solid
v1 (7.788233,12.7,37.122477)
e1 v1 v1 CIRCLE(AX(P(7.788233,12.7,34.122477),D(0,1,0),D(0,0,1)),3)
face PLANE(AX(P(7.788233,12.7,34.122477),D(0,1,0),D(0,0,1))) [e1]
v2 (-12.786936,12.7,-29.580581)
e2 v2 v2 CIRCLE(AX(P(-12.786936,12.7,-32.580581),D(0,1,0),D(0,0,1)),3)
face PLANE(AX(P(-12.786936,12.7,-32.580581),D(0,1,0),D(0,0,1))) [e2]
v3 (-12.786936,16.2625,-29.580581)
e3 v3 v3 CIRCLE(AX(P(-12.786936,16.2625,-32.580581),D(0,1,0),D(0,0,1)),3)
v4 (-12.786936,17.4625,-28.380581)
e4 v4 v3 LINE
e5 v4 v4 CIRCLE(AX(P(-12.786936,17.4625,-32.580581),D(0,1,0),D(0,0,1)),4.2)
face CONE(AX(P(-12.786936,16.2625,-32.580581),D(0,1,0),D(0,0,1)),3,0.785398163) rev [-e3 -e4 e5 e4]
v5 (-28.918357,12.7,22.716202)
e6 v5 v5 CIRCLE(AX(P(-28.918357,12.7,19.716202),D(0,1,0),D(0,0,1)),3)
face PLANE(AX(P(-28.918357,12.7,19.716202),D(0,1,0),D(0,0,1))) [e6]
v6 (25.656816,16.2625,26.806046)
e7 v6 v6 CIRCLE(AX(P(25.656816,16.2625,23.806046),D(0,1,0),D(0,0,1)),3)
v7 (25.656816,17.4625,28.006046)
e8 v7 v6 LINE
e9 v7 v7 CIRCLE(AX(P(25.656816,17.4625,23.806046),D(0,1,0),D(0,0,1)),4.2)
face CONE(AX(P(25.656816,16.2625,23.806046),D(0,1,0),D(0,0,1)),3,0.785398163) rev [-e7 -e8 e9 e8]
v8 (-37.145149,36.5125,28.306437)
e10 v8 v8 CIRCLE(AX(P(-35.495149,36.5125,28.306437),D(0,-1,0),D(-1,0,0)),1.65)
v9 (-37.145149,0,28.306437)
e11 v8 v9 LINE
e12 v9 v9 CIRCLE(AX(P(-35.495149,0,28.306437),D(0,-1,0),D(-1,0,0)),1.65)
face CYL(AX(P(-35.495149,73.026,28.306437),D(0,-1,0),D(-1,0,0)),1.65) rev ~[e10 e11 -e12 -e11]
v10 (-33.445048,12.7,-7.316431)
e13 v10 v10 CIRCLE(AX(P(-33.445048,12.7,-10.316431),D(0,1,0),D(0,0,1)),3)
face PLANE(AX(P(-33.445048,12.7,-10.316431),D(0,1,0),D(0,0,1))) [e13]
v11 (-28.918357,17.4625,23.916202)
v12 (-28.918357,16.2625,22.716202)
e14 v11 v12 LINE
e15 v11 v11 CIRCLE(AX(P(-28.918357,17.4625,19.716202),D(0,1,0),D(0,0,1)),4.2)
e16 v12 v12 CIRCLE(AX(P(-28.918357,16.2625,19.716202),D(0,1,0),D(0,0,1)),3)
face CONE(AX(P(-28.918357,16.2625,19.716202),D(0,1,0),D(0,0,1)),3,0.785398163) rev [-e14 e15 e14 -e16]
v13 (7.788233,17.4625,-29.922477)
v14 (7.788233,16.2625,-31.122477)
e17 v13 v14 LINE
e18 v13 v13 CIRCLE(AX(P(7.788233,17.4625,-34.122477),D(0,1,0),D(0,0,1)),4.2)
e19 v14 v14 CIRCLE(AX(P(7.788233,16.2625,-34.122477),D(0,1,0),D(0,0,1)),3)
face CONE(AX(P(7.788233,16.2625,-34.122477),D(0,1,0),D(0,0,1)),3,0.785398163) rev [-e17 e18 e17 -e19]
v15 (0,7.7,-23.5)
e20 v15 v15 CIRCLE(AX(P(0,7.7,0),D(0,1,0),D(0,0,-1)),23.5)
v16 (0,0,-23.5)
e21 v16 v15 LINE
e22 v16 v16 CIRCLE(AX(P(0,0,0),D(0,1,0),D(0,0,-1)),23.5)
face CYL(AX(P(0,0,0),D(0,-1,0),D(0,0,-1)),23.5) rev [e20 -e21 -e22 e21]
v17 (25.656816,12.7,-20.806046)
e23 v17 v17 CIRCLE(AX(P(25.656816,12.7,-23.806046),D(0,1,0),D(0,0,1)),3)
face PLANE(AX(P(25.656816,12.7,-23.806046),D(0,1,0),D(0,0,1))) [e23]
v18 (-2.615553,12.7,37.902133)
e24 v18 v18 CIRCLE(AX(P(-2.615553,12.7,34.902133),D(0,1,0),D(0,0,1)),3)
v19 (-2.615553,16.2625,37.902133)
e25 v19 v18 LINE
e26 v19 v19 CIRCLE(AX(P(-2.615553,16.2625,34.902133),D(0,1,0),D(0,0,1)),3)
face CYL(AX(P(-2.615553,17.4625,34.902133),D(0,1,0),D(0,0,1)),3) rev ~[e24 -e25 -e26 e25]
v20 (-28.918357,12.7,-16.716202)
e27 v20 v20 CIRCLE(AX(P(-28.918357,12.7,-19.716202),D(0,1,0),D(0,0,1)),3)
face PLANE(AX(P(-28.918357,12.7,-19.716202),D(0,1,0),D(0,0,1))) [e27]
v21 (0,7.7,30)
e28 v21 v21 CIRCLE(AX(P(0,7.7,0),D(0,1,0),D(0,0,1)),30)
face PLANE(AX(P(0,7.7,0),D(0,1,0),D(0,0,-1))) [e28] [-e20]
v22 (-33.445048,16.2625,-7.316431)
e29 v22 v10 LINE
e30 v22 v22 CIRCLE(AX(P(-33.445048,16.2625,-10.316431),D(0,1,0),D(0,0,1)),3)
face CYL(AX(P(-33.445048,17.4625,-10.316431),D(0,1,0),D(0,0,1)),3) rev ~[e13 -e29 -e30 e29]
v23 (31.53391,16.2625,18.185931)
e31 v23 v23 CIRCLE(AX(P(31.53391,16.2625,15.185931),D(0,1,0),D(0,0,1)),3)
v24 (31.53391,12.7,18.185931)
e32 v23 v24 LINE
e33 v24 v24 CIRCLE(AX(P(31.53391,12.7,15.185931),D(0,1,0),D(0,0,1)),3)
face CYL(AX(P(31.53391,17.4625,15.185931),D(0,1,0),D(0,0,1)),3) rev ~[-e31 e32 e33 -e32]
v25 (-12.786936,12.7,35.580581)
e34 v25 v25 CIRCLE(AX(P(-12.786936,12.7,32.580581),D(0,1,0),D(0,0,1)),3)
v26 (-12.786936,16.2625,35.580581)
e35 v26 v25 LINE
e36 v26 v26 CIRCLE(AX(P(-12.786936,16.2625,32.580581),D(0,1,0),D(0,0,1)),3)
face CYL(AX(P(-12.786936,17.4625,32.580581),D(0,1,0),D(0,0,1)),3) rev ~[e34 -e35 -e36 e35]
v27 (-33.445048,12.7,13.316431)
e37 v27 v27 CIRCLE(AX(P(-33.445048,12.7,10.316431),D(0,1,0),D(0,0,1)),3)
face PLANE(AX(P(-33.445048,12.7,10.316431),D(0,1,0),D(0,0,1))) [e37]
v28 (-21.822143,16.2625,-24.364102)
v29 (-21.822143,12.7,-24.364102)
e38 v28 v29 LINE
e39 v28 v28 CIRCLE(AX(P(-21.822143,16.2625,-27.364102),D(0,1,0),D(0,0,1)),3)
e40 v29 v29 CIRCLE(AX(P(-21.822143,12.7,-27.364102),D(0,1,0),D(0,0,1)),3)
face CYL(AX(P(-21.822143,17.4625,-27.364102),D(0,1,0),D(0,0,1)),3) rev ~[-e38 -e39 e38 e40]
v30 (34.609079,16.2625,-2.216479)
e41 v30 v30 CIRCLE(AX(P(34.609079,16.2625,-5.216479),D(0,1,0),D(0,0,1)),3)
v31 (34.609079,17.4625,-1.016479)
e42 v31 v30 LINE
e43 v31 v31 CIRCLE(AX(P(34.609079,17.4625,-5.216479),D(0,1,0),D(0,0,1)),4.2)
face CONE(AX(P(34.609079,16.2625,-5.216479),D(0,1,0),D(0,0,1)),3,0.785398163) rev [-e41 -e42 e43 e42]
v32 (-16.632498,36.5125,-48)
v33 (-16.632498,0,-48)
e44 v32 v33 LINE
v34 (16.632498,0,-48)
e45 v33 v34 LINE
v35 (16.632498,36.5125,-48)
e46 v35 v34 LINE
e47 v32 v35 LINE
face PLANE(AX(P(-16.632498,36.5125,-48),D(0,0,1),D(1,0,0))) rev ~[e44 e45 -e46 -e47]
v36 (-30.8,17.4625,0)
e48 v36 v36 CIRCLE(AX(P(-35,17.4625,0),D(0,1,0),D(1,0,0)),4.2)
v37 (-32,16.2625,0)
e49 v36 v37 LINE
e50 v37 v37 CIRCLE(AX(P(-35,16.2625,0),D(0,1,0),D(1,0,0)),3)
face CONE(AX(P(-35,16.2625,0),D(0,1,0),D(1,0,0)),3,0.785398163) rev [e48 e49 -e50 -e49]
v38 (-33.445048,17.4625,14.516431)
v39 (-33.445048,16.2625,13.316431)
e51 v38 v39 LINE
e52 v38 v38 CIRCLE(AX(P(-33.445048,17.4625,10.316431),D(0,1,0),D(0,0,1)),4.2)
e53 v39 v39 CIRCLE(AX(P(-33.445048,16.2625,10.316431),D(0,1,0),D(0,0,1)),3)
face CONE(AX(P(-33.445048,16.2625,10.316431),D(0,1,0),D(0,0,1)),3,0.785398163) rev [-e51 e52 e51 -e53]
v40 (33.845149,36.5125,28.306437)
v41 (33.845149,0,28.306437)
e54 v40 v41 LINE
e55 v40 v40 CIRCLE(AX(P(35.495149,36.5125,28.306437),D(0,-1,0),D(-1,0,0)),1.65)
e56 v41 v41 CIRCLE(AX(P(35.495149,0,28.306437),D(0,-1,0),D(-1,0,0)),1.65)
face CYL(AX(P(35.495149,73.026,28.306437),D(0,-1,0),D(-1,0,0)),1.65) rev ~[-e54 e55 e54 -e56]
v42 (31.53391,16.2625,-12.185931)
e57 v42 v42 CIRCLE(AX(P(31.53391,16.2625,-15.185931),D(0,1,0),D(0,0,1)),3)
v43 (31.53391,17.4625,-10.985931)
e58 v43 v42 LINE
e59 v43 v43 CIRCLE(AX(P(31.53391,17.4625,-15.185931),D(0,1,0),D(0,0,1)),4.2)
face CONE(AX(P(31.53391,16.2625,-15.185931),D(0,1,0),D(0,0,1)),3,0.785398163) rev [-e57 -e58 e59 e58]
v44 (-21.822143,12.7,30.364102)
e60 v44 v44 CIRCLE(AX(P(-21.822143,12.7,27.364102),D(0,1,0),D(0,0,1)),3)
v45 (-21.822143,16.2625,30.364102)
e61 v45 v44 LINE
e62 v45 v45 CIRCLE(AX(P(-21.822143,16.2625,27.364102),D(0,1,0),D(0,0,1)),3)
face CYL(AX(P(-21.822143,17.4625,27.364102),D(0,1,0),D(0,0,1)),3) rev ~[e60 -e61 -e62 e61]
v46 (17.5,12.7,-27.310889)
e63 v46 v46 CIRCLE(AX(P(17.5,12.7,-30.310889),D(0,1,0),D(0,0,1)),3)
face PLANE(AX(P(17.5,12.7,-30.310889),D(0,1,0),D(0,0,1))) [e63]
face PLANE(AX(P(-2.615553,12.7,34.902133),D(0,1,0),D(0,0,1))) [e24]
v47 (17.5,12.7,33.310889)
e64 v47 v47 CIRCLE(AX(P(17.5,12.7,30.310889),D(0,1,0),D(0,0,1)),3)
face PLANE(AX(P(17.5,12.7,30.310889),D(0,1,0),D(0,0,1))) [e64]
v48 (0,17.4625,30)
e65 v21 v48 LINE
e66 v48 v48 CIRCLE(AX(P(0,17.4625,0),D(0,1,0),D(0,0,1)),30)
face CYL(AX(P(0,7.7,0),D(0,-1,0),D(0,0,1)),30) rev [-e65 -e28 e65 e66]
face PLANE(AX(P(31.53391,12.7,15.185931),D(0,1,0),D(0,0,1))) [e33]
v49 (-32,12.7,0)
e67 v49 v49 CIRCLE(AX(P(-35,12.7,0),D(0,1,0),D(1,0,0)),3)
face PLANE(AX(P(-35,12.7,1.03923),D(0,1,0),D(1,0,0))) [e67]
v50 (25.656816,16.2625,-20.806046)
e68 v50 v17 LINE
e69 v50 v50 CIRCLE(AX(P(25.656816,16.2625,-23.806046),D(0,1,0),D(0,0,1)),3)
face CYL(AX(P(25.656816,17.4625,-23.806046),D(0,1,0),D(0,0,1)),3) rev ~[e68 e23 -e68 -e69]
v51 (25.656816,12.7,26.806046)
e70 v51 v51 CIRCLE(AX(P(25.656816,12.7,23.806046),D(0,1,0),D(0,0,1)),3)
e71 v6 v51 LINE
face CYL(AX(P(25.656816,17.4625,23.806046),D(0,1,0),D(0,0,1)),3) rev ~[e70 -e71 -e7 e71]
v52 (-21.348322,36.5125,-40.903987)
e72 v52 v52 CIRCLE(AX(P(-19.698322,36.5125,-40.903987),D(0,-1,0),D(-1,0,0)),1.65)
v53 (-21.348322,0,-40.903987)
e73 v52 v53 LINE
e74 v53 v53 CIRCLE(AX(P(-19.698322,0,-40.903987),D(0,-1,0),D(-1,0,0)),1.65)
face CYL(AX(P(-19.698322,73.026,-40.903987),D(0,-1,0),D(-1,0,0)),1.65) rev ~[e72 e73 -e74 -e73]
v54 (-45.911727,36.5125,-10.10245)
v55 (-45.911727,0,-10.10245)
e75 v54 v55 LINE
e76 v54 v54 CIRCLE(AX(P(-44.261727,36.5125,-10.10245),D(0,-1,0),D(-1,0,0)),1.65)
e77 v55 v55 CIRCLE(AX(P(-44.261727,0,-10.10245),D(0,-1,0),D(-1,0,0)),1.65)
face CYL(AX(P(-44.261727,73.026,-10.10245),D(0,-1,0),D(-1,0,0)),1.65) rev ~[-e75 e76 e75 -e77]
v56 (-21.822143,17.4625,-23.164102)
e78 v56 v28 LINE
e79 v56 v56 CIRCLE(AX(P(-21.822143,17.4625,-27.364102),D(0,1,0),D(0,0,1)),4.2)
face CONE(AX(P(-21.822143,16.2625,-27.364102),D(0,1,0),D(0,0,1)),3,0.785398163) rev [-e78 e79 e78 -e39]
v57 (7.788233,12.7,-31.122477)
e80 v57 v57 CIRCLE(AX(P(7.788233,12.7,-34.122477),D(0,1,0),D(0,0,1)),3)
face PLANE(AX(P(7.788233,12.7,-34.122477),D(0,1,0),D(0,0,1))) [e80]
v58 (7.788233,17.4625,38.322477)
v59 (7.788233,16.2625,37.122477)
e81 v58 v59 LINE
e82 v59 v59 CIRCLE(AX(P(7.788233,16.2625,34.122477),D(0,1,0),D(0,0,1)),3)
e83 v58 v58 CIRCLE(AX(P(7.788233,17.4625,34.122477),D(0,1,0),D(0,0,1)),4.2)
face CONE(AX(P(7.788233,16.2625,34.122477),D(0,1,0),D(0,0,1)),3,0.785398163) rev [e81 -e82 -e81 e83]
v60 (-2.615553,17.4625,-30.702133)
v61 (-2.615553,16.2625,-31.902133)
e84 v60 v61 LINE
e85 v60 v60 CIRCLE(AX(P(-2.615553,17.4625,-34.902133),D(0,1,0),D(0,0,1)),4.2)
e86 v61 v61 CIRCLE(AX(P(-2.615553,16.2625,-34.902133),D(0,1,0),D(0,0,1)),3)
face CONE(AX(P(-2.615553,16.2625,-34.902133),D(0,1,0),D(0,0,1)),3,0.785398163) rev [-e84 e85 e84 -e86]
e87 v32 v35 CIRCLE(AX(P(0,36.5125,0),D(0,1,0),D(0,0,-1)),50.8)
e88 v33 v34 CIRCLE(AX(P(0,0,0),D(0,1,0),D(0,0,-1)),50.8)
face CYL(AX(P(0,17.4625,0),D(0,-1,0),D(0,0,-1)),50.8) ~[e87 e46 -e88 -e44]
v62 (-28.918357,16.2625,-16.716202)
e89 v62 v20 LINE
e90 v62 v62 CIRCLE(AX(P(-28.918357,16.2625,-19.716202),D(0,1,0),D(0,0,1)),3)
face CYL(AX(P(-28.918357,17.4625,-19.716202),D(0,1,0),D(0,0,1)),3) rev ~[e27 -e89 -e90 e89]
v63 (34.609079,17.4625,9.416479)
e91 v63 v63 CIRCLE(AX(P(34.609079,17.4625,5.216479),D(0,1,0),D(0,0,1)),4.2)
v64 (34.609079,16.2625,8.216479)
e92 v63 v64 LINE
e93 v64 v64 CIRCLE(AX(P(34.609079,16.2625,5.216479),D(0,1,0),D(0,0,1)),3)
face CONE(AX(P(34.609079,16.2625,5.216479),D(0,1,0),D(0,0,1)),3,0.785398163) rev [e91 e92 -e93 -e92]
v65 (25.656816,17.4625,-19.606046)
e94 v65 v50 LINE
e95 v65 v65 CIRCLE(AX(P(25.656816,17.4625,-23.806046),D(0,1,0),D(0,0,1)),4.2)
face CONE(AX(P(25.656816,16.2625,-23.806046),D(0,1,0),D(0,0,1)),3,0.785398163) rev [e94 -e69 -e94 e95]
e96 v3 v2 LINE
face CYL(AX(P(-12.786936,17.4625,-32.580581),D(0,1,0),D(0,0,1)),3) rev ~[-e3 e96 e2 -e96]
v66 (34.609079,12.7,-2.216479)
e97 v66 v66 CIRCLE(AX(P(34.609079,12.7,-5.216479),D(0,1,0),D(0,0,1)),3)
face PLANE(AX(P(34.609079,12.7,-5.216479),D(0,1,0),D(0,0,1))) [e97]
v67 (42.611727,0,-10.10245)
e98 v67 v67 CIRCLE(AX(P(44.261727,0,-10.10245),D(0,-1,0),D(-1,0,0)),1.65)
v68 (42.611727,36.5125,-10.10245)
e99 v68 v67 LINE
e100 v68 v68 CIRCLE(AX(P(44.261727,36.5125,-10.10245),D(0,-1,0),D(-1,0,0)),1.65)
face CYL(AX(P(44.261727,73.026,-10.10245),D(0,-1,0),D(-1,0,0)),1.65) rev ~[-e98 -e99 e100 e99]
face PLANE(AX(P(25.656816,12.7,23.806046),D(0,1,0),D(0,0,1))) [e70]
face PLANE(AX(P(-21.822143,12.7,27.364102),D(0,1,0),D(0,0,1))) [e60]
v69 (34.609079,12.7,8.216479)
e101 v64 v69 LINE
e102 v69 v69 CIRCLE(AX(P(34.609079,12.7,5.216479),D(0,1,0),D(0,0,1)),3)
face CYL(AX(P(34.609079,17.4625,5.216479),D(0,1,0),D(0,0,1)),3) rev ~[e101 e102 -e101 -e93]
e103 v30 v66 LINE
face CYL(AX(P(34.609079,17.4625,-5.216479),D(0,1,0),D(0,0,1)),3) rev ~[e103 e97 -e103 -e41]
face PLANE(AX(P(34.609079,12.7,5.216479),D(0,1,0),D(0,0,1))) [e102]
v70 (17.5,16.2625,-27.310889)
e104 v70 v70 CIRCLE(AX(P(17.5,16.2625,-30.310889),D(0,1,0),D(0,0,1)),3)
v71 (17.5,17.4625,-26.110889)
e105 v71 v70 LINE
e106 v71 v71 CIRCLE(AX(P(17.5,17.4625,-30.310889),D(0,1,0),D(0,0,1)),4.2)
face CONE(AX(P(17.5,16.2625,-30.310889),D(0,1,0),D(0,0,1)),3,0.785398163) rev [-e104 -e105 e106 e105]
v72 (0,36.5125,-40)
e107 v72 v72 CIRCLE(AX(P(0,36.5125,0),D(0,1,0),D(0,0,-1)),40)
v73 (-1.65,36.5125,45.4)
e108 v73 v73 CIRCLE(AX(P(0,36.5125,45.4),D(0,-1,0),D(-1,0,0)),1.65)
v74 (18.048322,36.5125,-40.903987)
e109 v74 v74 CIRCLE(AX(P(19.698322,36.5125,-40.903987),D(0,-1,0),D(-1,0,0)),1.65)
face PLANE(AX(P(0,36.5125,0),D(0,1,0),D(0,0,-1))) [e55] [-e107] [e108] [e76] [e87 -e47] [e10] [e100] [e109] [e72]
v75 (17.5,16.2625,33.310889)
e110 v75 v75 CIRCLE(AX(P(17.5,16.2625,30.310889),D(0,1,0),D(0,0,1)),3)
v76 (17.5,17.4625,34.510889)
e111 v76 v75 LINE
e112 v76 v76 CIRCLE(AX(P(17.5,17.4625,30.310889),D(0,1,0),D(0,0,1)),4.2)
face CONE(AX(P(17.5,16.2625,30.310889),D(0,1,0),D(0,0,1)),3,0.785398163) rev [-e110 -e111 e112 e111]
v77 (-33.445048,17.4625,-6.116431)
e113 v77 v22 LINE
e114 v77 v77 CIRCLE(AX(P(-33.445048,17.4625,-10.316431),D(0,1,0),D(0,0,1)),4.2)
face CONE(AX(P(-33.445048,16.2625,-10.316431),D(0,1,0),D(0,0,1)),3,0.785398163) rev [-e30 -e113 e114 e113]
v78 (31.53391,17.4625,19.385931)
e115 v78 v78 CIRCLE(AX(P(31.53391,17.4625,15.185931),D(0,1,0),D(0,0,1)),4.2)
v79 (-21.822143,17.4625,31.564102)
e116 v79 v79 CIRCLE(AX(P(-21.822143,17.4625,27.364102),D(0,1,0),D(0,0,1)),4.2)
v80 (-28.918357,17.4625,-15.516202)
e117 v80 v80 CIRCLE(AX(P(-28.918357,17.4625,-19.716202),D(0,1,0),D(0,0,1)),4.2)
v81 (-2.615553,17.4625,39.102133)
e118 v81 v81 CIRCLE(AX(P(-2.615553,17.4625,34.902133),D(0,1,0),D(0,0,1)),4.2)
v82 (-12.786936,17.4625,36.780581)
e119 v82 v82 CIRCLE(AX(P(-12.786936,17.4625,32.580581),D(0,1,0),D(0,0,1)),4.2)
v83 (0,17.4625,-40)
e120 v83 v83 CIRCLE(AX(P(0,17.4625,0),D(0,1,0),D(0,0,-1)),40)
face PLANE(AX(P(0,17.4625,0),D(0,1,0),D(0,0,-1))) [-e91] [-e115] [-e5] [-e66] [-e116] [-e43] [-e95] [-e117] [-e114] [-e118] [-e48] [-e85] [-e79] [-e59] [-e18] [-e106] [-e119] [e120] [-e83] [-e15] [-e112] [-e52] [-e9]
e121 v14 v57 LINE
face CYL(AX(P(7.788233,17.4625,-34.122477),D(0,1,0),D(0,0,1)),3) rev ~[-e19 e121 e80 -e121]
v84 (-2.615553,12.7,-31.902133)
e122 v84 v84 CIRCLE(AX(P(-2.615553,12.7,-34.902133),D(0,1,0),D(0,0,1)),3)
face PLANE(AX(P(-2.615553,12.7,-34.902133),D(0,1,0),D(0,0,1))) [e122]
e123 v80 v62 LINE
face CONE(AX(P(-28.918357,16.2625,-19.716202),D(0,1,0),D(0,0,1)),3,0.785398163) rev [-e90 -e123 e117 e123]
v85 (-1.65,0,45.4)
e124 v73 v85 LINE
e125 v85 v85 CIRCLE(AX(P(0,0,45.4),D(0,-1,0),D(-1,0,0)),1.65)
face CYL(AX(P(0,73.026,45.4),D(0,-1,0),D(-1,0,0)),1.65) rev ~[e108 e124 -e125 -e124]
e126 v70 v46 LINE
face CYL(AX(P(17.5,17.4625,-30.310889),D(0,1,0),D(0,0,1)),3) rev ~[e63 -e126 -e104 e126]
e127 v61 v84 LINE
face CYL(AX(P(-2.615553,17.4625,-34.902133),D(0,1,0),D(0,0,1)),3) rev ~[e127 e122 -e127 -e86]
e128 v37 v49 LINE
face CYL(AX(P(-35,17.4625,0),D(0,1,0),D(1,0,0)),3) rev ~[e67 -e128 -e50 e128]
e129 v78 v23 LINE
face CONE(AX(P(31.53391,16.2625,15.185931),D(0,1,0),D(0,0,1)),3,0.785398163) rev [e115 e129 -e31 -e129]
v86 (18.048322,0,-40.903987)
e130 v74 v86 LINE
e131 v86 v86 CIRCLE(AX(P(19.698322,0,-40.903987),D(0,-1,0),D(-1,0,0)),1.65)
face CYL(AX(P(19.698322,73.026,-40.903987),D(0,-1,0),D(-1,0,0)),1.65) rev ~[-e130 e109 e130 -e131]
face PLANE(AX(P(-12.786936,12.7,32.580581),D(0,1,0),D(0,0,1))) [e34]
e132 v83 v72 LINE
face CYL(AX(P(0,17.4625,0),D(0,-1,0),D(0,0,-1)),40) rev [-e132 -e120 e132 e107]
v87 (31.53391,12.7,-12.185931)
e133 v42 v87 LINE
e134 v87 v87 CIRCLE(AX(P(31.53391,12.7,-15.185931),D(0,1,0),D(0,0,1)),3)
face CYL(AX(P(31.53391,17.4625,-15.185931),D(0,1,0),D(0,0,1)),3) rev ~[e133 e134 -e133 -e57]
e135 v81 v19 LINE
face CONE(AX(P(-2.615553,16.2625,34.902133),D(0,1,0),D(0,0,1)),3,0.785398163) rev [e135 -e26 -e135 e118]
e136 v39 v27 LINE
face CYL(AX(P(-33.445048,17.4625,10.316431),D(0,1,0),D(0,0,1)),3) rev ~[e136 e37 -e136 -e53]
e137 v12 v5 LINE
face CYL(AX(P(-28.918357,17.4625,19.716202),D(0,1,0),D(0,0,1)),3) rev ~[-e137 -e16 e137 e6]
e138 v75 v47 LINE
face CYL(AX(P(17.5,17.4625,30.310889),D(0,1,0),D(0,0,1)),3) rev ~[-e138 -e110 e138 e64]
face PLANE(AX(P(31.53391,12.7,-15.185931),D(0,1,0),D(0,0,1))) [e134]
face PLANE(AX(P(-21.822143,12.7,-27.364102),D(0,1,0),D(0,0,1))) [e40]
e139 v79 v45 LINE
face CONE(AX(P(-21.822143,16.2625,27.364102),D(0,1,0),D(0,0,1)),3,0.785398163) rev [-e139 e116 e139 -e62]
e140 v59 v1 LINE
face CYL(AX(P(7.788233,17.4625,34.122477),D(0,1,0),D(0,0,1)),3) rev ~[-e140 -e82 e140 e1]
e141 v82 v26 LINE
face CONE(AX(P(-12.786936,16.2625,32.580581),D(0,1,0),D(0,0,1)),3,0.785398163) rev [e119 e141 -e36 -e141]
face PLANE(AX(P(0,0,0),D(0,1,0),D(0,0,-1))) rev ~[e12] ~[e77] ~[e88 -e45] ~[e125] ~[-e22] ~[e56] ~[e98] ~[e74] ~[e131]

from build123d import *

# Parameters (mm, degrees)
SKETCH1_R                 = 50.8
SKETCH1_R_2               = 23.5
BOSS_EXTRUDE1_DEPTH       = 7.7
SKETCH3_R                 = 50.8
SKETCH3_R_2               = 30
BOSS_EXTRUDE2_DEPTH       = 9.7625
SKETCH4_R                 = 50.8
SKETCH4_R_2               = 40
BOSS_EXTRUDE3_DEPTH       = 19.05
SKETCH5_R                 = 3
CUT_EXTRUDE1_DEPTH        = 4.7625
CHAMFER1_SIZE             = 1.2
CUT_EXTRUDE4_DEPTH        = 81.58810493
M4X0_7_TAPPED_HOLE1_D     = 3.3
M4X0_7_TAPPED_HOLE1_DEPTH = 36.5135


with BuildPart() as part:
    # Sketch1 → Boss-Extrude1 (new body)
    with BuildSketch(Plane(origin=(0, 0, 0), x_dir=(1, 0, 0), z_dir=(0, 1, 0))):
        with Locations(Location((0, 0, 0), (0, 0, 90))):
            Circle(SKETCH1_R)
        with Locations(Location((0, 0, 0), (0, 0, 90))):
            Circle(SKETCH1_R_2, mode=Mode.SUBTRACT)
    extrude(amount=BOSS_EXTRUDE1_DEPTH)

    # Sketch3 → Boss-Extrude2 (add)
    with BuildSketch(Plane(origin=(0, 7.7, 0), x_dir=(1, 0, 0), z_dir=(0, 1, 0))):
        with Locations(Location((0, 0, 0), (0, 0, 90))):
            Circle(SKETCH3_R)
        with Locations(Location((0, 0, 0), (0, 0, 270))):
            Circle(SKETCH3_R_2, mode=Mode.SUBTRACT)
    extrude(amount=BOSS_EXTRUDE2_DEPTH)

    # Sketch4 → Boss-Extrude3 (add)
    with BuildSketch(Plane(origin=(0, 17.4625, 0), x_dir=(1, 0, 0), z_dir=(0, 1, 0))):
        with Locations(Location((0, 0, 0), (0, 0, 90))):
            Circle(SKETCH4_R)
        with Locations(Location((0, 0, 0), (0, 0, 90))):
            Circle(SKETCH4_R_2, mode=Mode.SUBTRACT)
    extrude(amount=BOSS_EXTRUDE3_DEPTH)

    # Sketch5 → Cut-Extrude1 (cut)
    with BuildSketch(Plane(origin=(0, 17.4625, 0), x_dir=(1, 0, 0), z_dir=(0, 1, 0))):
        with BuildLine():
            ThreePointArc((-38, 0), (-35, -3), (-32, 0))
            Line((-32, 0), (-38, 0))
        make_face()
        with BuildLine():
            Line((-38, 0), (-32, 0))
            ThreePointArc((-32, 0), (-35, 3), (-38, 0))
        make_face()
        with Locations(Location((-33.445048203, 10.316431104, 0), (0, 0, 270))):
            Circle(SKETCH5_R)
        with Locations(Location((-28.918357101, 19.716202032, 0), (0, 0, 270))):
            Circle(SKETCH5_R)
        with Locations(Location((-21.822143065, 27.364101886, 0), (0, 0, 270))):
            Circle(SKETCH5_R)
        with Locations(Location((-12.786935853, 32.580581203, 0), (0, 0, 270))):
            Circle(SKETCH5_R)
        with Locations(Location((-2.615553276, 34.902132901, 0), (0, 0, 270))):
            Circle(SKETCH5_R)
        with Locations(Location((7.788232688, 34.122476926, 0), (0, 0, 270))):
            Circle(SKETCH5_R)
        with Locations(Location((17.5, 30.310889132, 0), (0, 0, 270))):
            Circle(SKETCH5_R)
        with Locations(Location((25.656815514, 23.806045822, 0), (0, 0, 270))):
            Circle(SKETCH5_R)
        with Locations(Location((31.533910377, 15.185930869, 0), (0, 0, 270))):
            Circle(SKETCH5_R)
        with Locations(Location((34.609078918, 5.216479316, 0), (0, 0, 270))):
            Circle(SKETCH5_R)
        with Locations(Location((34.609078918, -5.216479316, 0), (0, 0, 270))):
            Circle(SKETCH5_R)
        with Locations(Location((31.533910377, -15.185930869, 0), (0, 0, 270))):
            Circle(SKETCH5_R)
        with Locations(Location((17.5, -30.310889132, 0), (0, 0, 270))):
            Circle(SKETCH5_R)
        with Locations(Location((7.788232688, -34.122476926, 0), (0, 0, 270))):
            Circle(SKETCH5_R)
        with Locations(Location((-2.615553276, -34.902132901, 0), (0, 0, 270))):
            Circle(SKETCH5_R)
        with Locations(Location((-12.786935853, -32.580581203, 0), (0, 0, 270))):
            Circle(SKETCH5_R)
        with Locations(Location((-21.822143065, -27.364101886, 0), (0, 0, 270))):
            Circle(SKETCH5_R)
        with Locations(Location((-28.918357101, -19.716202032, 0), (0, 0, 270))):
            Circle(SKETCH5_R)
        with Locations(Location((-33.445048203, -10.316431104, 0), (0, 0, 270))):
            Circle(SKETCH5_R)
        with Locations(Location((25.656815514, -23.806045822, 0), (0, 0, 270))):
            Circle(SKETCH5_R)
    extrude(amount=-CUT_EXTRUDE1_DEPTH, mode=Mode.SUBTRACT)

    # Chamfer1
    chamfer1_edges = [part.edges().sort_by_distance(p)[0] for p in [
        (-12.786935853, 17.4625, 29.580581203),
        (-2.615553276, 17.4625, 31.902132901),
        (7.788232688, 17.4625, 31.122476926),
        (17.5, 17.4625, 27.310889132),
        (31.533910377, 17.4625, 12.185930869),
        (34.609078918, 17.4625, 2.216479316),
        (34.609078918, 17.4625, -8.216479316),
        (31.533910377, 17.4625, -18.185930869),
        (25.656815514, 17.4625, -26.806045822),
        (17.5, 17.4625, -33.310889132),
        (7.788232688, 17.4625, -37.122476926),
        (-2.615553276, 17.4625, -37.902132901),
        (-12.786935853, 17.4625, -35.580581203),
        (-21.822143065, 17.4625, -30.364101886),
        (-28.918357101, 17.4625, -22.716202032),
        (-33.445048203, 17.4625, -13.316431104),
        (25.656815514, 17.4625, 20.806045822),
        (-33.445048203, 17.4625, 7.316431104),
        (-28.918357101, 17.4625, 16.716202032),
        (-21.822143065, 17.4625, 24.364101886),
        (-38, 17.4625, 0),
    ]]
    chamfer(chamfer1_edges, length=CHAMFER1_SIZE)

    # Sketch9 → Cut-Extrude4 (cut, through all)
    with BuildSketch(Plane(origin=(0, 36.5125, 0), x_dir=(1, 0, 0), z_dir=(0, 1, 0))):
        with BuildLine():
            Line((-16.632498309, 48), (0, 48))
            Line((0, 48), (16.632498309, 48))
            ThreePointArc((16.632498309, 48), (0, 50.8), (-16.632498309, 48))
        make_face()
    extrude(amount=-CUT_EXTRUDE4_DEPTH, mode=Mode.SUBTRACT)

    # M4x0.7 Tapped Hole1
    with Locations(Plane(origin=(0, 36.5125, 0), x_dir=(1, 0, 0), z_dir=(0, 1, 0))):
        with Locations((0, -45.4), (0, 0), (-44.261727213, 10.102450402), (-35.495149304, -28.306437004), (-19.698321756, 40.903986603), (19.698321756, 40.903986603), (44.261727213, 10.102450402), (35.495149304, -28.306437004)):
            Hole(M4X0_7_TAPPED_HOLE1_D / 2, depth=M4X0_7_TAPPED_HOLE1_DEPTH)


solid = part.part
